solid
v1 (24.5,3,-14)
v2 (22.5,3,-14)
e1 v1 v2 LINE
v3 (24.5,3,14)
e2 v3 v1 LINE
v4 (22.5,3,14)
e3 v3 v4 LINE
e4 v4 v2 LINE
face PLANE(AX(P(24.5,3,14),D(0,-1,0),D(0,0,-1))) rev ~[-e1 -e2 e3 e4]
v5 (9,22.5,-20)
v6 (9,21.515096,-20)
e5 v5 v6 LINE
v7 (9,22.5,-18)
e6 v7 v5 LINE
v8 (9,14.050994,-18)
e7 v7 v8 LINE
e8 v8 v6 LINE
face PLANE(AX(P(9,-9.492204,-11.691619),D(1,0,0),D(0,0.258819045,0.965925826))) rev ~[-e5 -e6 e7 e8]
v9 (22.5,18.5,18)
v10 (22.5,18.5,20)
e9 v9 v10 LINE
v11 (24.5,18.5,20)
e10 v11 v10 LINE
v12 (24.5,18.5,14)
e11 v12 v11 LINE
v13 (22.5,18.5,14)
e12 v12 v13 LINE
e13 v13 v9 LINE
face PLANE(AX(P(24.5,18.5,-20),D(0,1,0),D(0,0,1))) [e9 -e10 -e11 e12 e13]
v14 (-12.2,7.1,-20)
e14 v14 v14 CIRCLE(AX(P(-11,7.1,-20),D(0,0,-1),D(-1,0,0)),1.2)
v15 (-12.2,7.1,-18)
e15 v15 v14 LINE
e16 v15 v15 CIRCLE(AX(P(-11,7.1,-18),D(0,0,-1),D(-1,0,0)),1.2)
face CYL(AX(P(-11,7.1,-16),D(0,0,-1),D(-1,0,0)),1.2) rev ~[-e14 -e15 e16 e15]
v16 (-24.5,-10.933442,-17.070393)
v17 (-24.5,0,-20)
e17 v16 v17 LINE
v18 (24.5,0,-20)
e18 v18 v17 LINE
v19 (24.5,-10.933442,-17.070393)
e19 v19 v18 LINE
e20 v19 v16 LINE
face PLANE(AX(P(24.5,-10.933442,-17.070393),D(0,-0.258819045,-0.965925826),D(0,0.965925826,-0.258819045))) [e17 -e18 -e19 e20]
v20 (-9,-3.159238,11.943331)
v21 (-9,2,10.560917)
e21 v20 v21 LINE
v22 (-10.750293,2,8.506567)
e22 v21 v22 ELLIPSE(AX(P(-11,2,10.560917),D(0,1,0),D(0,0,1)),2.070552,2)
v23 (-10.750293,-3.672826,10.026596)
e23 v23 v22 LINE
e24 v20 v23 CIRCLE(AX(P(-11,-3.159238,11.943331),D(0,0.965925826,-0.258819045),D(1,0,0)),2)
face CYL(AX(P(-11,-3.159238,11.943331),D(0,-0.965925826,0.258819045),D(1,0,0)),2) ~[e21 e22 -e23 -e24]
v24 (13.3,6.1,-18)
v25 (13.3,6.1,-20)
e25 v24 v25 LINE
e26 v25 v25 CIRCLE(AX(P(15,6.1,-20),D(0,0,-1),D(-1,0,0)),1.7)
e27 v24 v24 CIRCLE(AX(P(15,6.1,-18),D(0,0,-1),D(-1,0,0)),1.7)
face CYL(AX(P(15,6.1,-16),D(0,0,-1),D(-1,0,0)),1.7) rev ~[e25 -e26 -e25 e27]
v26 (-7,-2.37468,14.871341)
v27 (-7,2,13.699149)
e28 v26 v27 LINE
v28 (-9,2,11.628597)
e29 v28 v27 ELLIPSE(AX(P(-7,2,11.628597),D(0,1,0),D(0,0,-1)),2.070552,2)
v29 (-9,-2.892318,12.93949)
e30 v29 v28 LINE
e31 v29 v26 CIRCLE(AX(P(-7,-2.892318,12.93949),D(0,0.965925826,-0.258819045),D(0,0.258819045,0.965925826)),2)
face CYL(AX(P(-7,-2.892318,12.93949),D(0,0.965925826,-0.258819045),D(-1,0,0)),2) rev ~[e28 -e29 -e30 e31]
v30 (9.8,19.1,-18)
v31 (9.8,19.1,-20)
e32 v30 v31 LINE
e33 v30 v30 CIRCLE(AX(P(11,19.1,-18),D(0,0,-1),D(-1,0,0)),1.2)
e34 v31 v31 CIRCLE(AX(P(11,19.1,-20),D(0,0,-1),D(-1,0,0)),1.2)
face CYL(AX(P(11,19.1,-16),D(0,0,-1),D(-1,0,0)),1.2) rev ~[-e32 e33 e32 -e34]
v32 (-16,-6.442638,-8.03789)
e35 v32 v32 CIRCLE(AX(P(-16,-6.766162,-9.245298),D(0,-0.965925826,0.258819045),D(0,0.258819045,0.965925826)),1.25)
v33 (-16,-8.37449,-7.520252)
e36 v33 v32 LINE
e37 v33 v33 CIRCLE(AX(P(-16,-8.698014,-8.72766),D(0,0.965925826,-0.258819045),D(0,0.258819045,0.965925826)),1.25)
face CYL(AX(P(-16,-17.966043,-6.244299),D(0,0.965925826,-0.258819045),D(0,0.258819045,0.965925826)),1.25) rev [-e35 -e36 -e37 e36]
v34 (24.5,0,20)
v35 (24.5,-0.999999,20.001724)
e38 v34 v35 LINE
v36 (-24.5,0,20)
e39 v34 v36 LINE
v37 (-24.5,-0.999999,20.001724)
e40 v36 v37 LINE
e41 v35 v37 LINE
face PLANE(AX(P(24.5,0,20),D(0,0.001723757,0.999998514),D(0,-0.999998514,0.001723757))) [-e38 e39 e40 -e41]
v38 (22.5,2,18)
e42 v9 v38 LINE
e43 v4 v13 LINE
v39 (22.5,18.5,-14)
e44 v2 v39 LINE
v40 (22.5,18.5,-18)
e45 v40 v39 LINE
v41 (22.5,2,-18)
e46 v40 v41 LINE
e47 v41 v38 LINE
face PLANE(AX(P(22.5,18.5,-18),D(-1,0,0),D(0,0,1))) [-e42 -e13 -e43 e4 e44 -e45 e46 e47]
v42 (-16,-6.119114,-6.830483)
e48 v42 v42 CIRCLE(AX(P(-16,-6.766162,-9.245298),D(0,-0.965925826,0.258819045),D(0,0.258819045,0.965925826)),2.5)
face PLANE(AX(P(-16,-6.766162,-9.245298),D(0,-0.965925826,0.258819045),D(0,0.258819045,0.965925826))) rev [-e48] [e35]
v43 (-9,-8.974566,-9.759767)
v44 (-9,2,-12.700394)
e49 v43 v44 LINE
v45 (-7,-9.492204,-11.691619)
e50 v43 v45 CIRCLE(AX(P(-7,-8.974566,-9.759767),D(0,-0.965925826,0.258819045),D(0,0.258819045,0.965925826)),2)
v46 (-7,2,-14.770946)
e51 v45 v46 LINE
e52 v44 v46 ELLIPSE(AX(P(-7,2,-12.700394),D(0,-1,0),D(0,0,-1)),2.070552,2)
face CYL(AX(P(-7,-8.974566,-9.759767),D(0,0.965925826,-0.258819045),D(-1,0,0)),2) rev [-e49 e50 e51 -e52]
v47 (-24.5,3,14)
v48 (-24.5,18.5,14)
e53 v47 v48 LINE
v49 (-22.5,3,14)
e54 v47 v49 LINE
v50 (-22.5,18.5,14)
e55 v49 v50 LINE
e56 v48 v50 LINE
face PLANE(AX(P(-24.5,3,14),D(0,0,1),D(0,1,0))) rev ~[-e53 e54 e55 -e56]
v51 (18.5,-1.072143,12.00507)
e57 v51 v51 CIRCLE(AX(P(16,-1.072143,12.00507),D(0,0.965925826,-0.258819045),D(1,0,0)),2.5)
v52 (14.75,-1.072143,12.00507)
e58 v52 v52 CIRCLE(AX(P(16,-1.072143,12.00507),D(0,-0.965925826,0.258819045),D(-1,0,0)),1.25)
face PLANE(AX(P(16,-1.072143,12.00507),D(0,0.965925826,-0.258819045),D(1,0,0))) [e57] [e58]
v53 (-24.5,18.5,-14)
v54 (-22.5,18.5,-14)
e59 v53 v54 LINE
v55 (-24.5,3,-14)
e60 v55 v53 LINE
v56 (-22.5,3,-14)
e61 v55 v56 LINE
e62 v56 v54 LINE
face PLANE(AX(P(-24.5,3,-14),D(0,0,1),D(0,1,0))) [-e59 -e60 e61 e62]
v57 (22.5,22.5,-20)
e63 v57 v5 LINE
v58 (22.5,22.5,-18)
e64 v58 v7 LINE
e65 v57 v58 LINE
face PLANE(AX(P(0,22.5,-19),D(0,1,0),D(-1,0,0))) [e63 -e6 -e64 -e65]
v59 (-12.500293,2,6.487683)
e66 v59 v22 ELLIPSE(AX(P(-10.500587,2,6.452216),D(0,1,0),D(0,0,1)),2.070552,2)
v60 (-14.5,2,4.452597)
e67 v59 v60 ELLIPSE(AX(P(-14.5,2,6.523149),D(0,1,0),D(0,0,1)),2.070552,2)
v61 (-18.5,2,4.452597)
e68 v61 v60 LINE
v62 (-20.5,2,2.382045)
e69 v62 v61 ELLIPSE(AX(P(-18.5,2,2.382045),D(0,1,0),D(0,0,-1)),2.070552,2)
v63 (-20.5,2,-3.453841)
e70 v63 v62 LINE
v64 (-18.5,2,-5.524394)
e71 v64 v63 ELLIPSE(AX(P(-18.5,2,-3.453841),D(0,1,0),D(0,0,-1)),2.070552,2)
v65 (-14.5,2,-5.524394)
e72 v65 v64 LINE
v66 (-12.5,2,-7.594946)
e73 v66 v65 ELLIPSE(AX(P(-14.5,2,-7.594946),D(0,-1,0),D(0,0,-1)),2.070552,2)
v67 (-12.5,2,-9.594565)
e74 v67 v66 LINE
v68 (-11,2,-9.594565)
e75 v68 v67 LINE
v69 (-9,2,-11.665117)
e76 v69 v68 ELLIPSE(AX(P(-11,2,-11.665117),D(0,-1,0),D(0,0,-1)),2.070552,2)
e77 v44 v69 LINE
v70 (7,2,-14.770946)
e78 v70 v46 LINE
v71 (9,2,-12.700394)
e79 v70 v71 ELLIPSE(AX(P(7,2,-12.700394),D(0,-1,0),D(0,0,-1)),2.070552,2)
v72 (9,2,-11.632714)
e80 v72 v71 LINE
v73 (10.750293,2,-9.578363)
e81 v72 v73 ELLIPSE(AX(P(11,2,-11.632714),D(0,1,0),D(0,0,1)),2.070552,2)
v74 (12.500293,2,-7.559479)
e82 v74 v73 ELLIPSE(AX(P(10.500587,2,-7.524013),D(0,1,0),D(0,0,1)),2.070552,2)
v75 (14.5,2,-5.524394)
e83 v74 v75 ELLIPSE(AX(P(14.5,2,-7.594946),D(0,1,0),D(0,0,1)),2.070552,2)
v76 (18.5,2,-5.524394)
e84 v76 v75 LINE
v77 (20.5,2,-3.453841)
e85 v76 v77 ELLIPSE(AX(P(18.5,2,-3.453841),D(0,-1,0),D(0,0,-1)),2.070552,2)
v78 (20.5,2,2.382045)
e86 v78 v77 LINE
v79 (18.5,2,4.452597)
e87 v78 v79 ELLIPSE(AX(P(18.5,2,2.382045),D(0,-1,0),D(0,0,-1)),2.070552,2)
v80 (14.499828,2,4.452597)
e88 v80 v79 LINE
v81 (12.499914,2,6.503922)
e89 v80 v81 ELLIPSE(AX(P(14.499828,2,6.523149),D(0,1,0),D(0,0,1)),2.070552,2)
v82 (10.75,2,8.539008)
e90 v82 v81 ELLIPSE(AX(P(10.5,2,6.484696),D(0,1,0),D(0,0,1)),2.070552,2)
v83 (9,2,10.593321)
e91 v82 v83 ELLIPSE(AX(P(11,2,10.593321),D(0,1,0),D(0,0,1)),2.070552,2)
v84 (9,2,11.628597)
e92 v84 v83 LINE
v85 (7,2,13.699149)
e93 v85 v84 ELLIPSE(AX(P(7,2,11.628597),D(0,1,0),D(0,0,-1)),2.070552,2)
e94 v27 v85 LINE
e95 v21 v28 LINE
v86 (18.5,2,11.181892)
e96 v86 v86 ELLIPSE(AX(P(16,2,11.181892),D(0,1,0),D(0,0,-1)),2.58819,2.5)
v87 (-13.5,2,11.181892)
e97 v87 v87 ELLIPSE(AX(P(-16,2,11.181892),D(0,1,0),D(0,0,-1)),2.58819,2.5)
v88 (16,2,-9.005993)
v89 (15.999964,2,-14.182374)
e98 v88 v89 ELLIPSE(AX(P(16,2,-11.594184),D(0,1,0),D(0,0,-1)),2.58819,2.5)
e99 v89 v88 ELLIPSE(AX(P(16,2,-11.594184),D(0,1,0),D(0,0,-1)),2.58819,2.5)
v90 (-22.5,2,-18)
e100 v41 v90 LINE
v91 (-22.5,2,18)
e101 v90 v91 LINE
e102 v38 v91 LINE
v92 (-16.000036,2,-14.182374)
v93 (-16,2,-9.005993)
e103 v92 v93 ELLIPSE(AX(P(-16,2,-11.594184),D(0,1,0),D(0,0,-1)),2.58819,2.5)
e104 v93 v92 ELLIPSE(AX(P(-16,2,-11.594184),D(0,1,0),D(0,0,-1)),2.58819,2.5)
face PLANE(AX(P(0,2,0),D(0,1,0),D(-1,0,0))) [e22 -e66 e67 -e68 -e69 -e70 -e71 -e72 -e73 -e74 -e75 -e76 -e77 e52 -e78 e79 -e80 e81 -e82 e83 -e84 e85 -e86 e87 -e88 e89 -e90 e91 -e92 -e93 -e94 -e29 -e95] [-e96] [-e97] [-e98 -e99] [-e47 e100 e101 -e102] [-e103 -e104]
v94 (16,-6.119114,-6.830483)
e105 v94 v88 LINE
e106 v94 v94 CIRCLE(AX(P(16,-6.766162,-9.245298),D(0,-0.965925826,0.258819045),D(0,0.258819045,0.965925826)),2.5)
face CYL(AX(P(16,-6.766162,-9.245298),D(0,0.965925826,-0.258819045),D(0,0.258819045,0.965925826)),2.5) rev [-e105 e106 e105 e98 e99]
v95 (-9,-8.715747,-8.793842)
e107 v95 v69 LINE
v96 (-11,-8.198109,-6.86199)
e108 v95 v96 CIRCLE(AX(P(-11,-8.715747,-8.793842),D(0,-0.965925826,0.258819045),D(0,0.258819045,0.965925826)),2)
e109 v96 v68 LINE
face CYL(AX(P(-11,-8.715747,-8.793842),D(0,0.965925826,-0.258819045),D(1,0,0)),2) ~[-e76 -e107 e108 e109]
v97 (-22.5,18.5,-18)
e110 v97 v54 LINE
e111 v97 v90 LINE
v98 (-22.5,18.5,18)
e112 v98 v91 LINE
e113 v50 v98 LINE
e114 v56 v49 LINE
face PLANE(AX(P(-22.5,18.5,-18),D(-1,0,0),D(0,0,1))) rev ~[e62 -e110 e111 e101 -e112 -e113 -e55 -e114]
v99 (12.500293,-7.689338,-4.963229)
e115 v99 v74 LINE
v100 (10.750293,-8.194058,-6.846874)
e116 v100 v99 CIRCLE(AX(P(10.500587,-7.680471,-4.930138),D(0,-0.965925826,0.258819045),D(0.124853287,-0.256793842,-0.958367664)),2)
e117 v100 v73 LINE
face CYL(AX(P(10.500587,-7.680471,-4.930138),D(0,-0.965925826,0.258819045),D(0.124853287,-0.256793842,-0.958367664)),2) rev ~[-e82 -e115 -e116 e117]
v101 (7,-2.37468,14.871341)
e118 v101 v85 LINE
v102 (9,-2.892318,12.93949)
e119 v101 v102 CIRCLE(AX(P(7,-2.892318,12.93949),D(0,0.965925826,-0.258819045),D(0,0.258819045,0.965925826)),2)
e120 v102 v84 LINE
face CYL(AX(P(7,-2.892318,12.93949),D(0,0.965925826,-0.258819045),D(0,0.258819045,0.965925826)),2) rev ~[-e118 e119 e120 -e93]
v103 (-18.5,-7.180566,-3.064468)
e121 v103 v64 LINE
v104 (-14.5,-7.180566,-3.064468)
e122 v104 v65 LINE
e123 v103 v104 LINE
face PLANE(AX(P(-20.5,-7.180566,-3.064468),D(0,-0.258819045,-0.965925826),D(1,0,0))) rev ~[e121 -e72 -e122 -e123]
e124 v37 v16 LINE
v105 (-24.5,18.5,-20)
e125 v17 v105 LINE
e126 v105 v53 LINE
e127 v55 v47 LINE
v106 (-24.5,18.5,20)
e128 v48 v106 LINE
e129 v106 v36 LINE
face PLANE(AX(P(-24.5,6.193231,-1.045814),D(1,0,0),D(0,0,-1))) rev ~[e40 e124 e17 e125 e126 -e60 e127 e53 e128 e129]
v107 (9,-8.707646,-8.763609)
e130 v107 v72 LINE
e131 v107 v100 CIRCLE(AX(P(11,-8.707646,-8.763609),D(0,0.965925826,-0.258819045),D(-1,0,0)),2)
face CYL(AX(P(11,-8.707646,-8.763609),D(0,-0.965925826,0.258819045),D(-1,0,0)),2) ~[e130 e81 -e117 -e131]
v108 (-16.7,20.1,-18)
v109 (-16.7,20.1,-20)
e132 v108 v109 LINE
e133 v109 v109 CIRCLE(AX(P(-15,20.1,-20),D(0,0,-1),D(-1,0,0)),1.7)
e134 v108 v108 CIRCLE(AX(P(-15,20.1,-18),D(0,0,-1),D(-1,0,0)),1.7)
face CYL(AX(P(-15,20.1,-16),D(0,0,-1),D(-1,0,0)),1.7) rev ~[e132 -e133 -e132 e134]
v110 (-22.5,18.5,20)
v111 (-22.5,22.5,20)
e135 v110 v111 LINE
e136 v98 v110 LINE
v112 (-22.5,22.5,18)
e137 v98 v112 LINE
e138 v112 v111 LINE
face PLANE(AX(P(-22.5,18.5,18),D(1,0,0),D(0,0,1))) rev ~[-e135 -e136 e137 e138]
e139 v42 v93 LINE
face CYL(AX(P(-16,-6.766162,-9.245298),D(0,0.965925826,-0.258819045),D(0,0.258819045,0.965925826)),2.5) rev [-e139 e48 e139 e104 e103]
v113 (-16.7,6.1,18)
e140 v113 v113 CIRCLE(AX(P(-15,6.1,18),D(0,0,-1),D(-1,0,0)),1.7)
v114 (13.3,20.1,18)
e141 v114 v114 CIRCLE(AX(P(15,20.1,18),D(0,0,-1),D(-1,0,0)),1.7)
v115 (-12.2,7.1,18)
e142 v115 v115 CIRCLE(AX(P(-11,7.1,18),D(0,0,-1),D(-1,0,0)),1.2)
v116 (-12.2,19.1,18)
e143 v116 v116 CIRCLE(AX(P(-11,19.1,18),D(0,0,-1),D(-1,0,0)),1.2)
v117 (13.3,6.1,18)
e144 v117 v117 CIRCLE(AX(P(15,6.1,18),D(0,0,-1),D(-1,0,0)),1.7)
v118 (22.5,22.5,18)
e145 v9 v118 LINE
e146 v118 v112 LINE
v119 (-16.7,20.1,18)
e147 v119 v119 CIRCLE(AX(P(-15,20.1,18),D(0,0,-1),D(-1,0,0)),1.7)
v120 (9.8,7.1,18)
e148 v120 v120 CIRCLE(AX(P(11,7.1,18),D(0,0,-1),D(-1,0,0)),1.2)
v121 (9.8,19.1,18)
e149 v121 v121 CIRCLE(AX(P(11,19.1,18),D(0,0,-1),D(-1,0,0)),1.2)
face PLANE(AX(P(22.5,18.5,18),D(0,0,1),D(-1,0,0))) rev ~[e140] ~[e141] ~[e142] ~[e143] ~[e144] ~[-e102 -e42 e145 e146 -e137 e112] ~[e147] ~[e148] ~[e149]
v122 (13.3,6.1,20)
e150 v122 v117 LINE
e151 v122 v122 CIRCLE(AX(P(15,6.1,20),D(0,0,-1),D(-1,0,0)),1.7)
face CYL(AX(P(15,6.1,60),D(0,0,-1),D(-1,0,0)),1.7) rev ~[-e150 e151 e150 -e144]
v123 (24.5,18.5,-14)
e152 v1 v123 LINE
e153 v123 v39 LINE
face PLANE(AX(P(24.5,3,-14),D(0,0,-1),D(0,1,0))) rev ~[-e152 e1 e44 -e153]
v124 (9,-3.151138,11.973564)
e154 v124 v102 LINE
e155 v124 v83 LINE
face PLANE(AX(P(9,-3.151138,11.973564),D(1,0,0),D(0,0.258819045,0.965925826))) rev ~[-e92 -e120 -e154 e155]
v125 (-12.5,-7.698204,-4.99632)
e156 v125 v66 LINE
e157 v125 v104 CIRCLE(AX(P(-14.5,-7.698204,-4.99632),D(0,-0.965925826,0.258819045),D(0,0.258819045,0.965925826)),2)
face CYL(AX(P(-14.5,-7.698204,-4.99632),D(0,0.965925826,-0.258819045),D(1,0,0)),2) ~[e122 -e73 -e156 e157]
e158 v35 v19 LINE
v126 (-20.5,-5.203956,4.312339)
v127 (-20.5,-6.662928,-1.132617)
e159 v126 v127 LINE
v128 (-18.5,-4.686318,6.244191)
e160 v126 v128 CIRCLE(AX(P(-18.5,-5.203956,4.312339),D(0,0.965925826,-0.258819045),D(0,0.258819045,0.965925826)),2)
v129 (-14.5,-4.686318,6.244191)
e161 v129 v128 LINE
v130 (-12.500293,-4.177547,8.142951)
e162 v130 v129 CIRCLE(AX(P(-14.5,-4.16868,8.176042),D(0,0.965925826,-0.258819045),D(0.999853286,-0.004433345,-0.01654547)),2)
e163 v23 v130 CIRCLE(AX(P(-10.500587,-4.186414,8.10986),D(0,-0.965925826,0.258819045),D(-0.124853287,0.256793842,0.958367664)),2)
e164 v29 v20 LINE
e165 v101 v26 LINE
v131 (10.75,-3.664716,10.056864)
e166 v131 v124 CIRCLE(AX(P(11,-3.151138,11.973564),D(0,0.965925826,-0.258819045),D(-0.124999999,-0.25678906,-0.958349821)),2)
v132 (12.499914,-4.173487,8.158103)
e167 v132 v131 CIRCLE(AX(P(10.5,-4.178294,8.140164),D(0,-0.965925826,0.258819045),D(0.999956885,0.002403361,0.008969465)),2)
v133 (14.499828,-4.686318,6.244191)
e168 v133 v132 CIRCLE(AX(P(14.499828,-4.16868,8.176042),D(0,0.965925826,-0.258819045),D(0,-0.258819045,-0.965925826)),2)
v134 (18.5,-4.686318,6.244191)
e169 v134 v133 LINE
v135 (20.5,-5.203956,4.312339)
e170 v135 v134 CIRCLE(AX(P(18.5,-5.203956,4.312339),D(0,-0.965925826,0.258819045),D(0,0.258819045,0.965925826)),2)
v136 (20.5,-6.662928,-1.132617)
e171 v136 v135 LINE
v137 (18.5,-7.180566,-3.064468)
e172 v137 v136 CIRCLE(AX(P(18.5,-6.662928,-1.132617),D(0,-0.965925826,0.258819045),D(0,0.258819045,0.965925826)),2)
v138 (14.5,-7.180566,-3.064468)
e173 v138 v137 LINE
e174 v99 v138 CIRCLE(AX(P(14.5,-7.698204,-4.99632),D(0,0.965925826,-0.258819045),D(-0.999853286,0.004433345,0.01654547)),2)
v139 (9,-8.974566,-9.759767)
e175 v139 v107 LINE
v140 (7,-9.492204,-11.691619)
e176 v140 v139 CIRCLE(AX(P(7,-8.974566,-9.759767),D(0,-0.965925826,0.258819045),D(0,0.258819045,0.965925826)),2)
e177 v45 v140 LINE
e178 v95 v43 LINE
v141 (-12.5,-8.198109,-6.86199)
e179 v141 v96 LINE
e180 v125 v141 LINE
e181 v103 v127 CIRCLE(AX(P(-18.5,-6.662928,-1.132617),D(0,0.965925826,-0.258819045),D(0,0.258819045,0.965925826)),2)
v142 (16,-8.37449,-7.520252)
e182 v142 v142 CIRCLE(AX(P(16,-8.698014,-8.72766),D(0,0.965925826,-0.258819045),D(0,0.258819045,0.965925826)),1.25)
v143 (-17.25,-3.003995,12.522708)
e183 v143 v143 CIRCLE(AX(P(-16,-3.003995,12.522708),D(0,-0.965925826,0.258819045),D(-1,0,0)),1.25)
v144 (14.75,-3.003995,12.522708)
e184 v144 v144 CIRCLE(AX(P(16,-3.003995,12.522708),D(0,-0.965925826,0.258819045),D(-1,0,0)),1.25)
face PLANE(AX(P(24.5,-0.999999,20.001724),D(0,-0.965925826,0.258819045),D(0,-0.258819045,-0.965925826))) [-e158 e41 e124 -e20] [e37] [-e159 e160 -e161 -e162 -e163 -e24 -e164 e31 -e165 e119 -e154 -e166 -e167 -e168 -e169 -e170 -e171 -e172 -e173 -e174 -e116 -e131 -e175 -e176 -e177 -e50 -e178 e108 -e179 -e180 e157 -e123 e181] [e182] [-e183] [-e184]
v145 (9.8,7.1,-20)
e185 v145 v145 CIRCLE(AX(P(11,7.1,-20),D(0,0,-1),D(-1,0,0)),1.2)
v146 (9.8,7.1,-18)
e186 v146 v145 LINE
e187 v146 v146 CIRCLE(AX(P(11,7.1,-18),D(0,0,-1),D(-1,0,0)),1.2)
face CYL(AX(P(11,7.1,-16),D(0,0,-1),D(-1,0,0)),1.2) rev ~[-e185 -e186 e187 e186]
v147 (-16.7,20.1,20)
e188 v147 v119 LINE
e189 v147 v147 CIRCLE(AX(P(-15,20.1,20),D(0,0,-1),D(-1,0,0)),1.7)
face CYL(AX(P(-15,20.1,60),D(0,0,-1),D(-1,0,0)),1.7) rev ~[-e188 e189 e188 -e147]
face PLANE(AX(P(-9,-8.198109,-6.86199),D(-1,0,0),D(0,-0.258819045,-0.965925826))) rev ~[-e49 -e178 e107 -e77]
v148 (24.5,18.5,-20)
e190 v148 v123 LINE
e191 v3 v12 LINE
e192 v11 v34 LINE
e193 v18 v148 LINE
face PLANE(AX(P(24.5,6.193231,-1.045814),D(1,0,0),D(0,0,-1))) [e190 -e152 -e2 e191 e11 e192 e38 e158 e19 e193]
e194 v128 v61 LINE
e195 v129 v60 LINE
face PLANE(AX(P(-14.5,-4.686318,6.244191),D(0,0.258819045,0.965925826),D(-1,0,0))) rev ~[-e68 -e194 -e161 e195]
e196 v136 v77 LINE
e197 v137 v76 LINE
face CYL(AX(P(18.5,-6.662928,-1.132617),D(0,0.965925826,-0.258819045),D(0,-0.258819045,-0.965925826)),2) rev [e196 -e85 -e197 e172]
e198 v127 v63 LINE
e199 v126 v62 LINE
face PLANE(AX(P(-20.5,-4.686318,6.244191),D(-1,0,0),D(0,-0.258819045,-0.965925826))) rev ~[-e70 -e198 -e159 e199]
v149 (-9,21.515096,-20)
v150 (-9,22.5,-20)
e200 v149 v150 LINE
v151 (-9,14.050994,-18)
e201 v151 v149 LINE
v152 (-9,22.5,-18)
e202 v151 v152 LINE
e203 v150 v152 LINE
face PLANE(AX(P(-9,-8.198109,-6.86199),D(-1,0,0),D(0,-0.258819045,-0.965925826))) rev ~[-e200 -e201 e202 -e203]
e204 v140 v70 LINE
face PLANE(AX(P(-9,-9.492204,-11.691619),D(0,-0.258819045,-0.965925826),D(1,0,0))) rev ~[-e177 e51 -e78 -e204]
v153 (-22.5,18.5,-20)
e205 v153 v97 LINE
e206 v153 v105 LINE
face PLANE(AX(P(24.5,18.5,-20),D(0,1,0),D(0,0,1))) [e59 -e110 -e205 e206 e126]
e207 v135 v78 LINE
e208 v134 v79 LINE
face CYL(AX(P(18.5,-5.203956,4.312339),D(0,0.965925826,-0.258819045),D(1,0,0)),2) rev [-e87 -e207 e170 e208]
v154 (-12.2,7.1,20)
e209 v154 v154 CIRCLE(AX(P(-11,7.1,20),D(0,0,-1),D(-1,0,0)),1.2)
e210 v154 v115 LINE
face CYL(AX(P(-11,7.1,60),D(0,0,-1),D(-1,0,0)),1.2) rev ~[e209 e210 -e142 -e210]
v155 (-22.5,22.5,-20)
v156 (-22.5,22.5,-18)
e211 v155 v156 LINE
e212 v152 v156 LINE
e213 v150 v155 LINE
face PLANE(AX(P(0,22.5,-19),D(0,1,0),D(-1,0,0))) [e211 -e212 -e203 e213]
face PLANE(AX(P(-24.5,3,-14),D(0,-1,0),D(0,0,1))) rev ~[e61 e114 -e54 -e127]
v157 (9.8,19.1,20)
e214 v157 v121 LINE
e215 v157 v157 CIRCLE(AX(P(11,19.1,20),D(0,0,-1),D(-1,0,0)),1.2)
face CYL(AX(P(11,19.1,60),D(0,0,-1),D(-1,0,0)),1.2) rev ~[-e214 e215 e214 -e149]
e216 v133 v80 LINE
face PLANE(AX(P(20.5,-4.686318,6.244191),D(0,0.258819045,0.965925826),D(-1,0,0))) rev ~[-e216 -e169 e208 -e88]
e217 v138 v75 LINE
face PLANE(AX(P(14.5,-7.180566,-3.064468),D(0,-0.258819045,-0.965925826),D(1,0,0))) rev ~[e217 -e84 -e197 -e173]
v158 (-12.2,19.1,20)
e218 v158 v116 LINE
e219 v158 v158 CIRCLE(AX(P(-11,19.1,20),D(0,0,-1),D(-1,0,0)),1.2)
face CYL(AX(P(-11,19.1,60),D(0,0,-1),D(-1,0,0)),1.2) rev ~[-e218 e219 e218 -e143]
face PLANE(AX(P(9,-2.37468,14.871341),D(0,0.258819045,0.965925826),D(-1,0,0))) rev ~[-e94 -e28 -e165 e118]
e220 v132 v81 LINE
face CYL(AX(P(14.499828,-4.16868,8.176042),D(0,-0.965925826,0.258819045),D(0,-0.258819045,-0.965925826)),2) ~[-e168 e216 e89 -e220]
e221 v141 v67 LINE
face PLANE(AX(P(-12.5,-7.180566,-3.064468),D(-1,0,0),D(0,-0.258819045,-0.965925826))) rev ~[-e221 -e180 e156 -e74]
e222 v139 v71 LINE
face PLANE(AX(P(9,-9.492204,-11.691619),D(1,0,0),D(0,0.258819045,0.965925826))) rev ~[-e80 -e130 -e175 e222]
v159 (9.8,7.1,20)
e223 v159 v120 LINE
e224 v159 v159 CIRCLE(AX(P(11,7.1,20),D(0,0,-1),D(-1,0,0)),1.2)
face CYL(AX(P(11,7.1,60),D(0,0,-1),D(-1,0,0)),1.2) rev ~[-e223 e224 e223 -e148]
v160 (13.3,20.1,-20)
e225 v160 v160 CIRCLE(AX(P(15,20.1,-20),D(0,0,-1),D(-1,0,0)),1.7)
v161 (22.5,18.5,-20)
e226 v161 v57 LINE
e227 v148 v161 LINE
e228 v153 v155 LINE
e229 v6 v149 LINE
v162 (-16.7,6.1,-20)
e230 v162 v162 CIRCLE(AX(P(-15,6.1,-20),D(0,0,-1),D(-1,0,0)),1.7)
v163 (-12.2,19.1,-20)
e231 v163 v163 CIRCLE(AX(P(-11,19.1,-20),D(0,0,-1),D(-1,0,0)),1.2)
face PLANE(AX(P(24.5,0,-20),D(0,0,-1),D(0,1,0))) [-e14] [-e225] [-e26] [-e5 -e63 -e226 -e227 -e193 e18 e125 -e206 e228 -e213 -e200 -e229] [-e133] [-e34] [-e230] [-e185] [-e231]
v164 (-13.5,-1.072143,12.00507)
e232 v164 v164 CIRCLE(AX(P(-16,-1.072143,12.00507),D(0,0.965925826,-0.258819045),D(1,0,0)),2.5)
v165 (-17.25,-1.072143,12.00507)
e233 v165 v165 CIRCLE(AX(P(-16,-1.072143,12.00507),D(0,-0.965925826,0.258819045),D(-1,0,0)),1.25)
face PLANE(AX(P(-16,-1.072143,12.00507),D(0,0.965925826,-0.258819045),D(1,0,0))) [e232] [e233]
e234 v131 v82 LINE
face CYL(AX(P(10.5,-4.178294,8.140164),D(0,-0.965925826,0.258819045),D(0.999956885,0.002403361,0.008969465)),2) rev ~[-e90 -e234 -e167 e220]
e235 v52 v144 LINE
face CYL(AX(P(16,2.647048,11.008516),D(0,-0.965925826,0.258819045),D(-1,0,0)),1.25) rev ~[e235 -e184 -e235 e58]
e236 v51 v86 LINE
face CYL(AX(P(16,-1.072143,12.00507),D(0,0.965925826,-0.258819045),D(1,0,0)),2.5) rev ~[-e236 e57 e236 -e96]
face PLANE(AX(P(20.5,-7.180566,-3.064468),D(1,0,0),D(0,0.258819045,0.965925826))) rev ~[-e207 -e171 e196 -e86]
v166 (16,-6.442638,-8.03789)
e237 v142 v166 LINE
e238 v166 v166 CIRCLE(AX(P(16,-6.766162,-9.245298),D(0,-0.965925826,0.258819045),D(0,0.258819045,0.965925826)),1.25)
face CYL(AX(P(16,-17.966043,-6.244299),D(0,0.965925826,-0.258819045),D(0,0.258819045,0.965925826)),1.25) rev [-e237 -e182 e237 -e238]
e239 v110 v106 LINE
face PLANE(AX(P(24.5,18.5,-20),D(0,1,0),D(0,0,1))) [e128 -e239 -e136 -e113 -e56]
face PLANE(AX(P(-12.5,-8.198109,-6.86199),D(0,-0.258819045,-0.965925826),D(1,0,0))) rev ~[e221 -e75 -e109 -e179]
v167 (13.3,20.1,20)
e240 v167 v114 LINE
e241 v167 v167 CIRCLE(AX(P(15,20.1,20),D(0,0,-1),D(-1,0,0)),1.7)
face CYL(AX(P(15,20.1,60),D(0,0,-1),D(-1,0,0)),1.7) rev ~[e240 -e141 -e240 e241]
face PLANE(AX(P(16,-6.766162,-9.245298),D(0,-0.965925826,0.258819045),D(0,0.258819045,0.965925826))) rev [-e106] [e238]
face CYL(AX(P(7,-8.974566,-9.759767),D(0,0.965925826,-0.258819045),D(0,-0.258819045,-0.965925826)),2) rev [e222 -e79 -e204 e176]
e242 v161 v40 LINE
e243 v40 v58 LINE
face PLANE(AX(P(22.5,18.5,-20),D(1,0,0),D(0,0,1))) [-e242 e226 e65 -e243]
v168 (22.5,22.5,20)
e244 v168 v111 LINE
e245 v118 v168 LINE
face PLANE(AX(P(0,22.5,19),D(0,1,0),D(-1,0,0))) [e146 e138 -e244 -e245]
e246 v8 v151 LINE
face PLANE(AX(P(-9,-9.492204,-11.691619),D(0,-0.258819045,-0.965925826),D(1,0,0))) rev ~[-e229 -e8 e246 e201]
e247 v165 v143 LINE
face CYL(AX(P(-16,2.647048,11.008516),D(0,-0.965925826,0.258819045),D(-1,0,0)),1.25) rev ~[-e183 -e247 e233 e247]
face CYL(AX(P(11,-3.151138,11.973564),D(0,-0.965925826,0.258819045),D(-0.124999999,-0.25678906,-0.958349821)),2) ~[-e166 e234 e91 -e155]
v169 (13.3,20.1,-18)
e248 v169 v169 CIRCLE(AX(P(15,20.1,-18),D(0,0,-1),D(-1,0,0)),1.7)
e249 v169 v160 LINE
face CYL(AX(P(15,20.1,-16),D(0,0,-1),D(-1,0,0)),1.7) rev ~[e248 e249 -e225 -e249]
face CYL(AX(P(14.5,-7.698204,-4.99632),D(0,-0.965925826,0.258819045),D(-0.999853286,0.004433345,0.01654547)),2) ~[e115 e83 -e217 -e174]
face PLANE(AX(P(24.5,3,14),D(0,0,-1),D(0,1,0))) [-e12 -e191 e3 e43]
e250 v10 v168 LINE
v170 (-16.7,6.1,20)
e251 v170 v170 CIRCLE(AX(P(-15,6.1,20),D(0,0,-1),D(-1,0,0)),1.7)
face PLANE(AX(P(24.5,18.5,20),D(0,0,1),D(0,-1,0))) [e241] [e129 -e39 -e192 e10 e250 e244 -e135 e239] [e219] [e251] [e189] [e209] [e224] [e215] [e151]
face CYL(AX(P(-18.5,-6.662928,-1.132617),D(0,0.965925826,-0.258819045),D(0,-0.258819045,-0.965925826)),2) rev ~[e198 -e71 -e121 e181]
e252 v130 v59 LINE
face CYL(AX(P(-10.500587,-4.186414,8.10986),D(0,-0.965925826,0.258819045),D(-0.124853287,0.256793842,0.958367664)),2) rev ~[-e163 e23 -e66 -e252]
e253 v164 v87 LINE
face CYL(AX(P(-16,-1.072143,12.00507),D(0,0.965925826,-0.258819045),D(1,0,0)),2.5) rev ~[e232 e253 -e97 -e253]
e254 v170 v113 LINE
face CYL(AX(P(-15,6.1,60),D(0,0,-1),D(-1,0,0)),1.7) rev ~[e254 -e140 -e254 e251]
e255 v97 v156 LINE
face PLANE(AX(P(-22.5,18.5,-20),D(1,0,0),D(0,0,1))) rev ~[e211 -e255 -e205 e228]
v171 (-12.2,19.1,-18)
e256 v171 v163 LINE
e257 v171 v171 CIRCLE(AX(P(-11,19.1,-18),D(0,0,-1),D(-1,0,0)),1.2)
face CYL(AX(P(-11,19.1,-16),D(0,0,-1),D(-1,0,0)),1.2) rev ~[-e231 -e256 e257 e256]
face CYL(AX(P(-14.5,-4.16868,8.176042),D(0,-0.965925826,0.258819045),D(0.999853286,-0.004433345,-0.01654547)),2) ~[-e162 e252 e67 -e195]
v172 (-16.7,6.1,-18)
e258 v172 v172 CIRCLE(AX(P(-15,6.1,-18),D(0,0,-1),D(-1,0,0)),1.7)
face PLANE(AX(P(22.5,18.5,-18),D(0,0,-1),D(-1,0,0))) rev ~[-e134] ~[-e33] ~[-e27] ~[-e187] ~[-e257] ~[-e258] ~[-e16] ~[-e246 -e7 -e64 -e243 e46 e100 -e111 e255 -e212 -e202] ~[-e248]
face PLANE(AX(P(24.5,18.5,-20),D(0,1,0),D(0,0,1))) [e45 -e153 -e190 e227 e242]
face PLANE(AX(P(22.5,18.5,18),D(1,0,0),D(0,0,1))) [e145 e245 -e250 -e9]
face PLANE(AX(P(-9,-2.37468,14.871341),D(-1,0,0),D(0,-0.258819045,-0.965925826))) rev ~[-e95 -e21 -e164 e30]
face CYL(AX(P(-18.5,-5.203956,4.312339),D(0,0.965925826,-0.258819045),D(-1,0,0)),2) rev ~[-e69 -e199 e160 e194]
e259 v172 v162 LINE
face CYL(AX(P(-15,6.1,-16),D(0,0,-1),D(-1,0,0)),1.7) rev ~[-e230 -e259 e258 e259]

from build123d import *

# Parameters (mm, degrees)
BOSS_EXTRUDE1_DEPTH                              = 49
SKETCH2_W                                        = 45
SKETCH2_H                                        = 2
BOSS_EXTRUDE2_DEPTH                              = 4
SKETCH3_W                                        = 45
SKETCH3_H                                        = 2
BOSS_EXTRUDE3_DEPTH                              = 4
SKETCH4_W                                        = 45
SKETCH4_H                                        = 36
CUT_EXTRUDE1_DEPTH                               = 16.5
CUT_EXTRUDE2_REACH                               = 51
SKETCH5_W                                        = 28
SKETCH5_H                                        = 15.499999955
SKETCH6_W                                        = 28
SKETCH6_H                                        = 15.499999989
CUT_EXTRUDE3_DEPTH                               = 50
CUT_EXTRUDE4_DEPTH                               = 34.052463428
CBORE_FOR_M2_HEX_HEAD_MACHINE_SCREW1_AT_COUNT    = 2
CBORE_FOR_M2_HEX_HEAD_MACHINE_SCREW1_AT_PITCH    = 32
CBORE_FOR_M2_HEX_HEAD_MACHINE_SCREW2_D           = 2.5
CBORE_FOR_M2_HEX_HEAD_MACHINE_SCREW2_DEPTH       = 15.445359267
CBORE_FOR_M2_HEX_HEAD_MACHINE_SCREW2_CBORE_D     = 5
CBORE_FOR_M2_HEX_HEAD_MACHINE_SCREW2_CBORE_DEPTH = 3.850389414
F_3_4_3_4_DIAMETER_HOLE1_D                       = 3.4
F_3_4_3_4_DIAMETER_HOLE1_DEPTH                   = 2
F_2_4_2_4_DIAMETER_HOLE1_D                       = 2.4
F_2_4_2_4_DIAMETER_HOLE1_DEPTH                   = 2
F_3_4_3_4_DIAMETER_HOLE2_D                       = 3.4
F_3_4_3_4_DIAMETER_HOLE2_DEPTH                   = 40
F_2_4_2_4_DIAMETER_HOLE2_D                       = 2.4
F_2_4_2_4_DIAMETER_HOLE2_DEPTH                   = 40
FILLET1_R                                        = 2


with BuildPart() as part:
    # Sketch1 → Boss-Extrude1 (new body)
    with BuildSketch(Plane(origin=(24.5, 0, 0), x_dir=(0, 0, -1), z_dir=(1, 0, 0))):
        Polygon((20, 18.5), (-20, 18.5), (-20, 0), (-20.001723757, -0.999998514), (17.070392977, -10.933442255), (20, 0), align=None)
    extrude(amount=-BOSS_EXTRUDE1_DEPTH)

    # Sketch2 → Boss-Extrude2 (add)
    with BuildSketch(Plane(origin=(0, 18.5, 0), x_dir=(-1, 0, 0), z_dir=(0, 1, 0))):
        with Locations((0, 19)):
            Rectangle(SKETCH2_W, SKETCH2_H)
    extrude(amount=BOSS_EXTRUDE2_DEPTH)

    # Sketch3 → Boss-Extrude3 (add)
    with BuildSketch(Plane(origin=(0, 18.5, 0), x_dir=(-1, 0, 0), z_dir=(0, 1, 0))):
        with Locations((0, -19)):
            Rectangle(SKETCH3_W, SKETCH3_H)
    extrude(amount=BOSS_EXTRUDE3_DEPTH)

    # Sketch4 → Cut-Extrude1 (cut)
    with BuildSketch(Plane(origin=(0, 18.5, 0), x_dir=(-1, 0, 0), z_dir=(0, 1, 0))):
        Rectangle(SKETCH4_W, SKETCH4_H)
    extrude(amount=-CUT_EXTRUDE1_DEPTH, mode=Mode.SUBTRACT)

    # Sketch5 → Cut-Extrude2 (cut, up to next)
    with BuildSketch(Plane(origin=(24.5, 0, 0), x_dir=(0, 0, -1), z_dir=(1, 0, 0)), mode=Mode.PRIVATE) as cut_extrude2_sk1:
        with Locations((0, 10.750000023)):
            Rectangle(SKETCH5_W, SKETCH5_H)
    cut_extrude2_tool1 = extrude(cut_extrude2_sk1.sketch, amount=-CUT_EXTRUDE2_REACH, mode=Mode.PRIVATE) & part.part
    add(cut_extrude2_tool1.solids().sort_by_distance((24.5, 10.75, 0))[0], mode=Mode.SUBTRACT)

    # Sketch6 → Cut-Extrude3 (cut, through all)
    with BuildSketch(Plane.ZY.offset(24.5)):
        with Locations((0, 10.750000006)):
            Rectangle(SKETCH6_W, SKETCH6_H)
    extrude(amount=-CUT_EXTRUDE3_DEPTH, mode=Mode.SUBTRACT)

    # Sketch7 → Cut-Extrude4 (cut, through all)
    with BuildSketch(Plane(origin=(0, -5.933442255, 1.589861061), x_dir=(1, 0, 0), z_dir=(0, -0.965925826, 0.258819045))):
        with BuildLine():
            Line((-9, -8.75), (-9, -13.75))
            Line((-9, -13.75), (9, -13.75))
            Line((9, -13.75), (9, -10.71870086))
            ThreePointArc((9, -10.71870086), (9.500097813, -9.395714303), (10.750293429, -8.73435043))
            ThreePointArc((10.750293429, -8.73435043), (11.989102808, -8.085784512), (12.500293429, -6.784258263))
            ThreePointArc((12.500293429, -6.784258263), (13.097950879, -5.392242266), (14.5, -4.818516526))
            Line((14.5, -4.818516526), (20.5, -4.818516526))
            Line((20.5, -4.818516526), (20.5, 4.818516526))
            Line((20.5, 4.818516526), (14.499827541, 4.818516526))
            ThreePointArc((14.499827541, 4.818516526), (13.092195397, 5.397752032), (12.499913771, 6.79994478))
            ThreePointArc((12.499913771, 6.79994478), (11.993841738, 8.11119891), (10.75, 8.765686517))
            ThreePointArc((10.75, 8.765686517), (9.5, 9.427124344), (9, 10.75))
            Line((9, 10.75), (9, 13.75))
            Line((9, 13.75), (-9, 13.75))
            Line((-9, 13.75), (-9, 10.71870086))
            ThreePointArc((-9, 10.71870086), (-9.500097813, 9.395714303), (-10.750293429, 8.73435043))
            ThreePointArc((-10.750293429, 8.73435043), (-11.989102808, 8.085784512), (-12.500293429, 6.784258263))
            ThreePointArc((-12.500293429, 6.784258263), (-13.097950879, 5.392242266), (-14.5, 4.818516526))
            Line((-14.5, 4.818516526), (-20.5, 4.818516526))
            Line((-20.5, 4.818516526), (-20.5, -4.818516526))
            Line((-20.5, -4.818516526), (-12.5, -4.818516526))
            Line((-12.5, -4.818516526), (-12.5, -8.75))
            Line((-12.5, -8.75), (-9, -8.75))
        make_face()
    extrude(amount=-CUT_EXTRUDE4_DEPTH, mode=Mode.SUBTRACT)

    # Sketch8 → CBORE for M2 Hex Head Machine Screw1 (revolve, cut)
    with BuildSketch(Plane(origin=(-16, 2.647047613, -11.767559682), x_dir=(0, 0.258819045, 0.965925826), z_dir=(1, 0, 0))):
        Polygon((0, 0), (0, 21.3402415), (1.25, 21.3402415), (1.25, 9.745271647), (2.5, 9.745271647), (2.5, 0), align=None)
    cbore_for_m2_hex_head_machine_screw1 = revolve(axis=Axis((-16, 8.78067661, -13.411060619), (0, -0.965925826, 0.258819045)), mode=Mode.SUBTRACT)

    # CBORE for M2 Hex Head Machine Screw1 at: CBORE for M2 Hex Head Machine Screw1 ×2
    with Locations(*[(i * CBORE_FOR_M2_HEX_HEAD_MACHINE_SCREW1_AT_PITCH, 0, 0) for i in range(1, CBORE_FOR_M2_HEX_HEAD_MACHINE_SCREW1_AT_COUNT)]):
        add(cbore_for_m2_hex_head_machine_screw1, mode=Mode.SUBTRACT)

    # CBORE for M2 Hex Head Machine Screw2
    with Locations(Plane(origin=(0, -0.282400026, 0.075668859), x_dir=(1, 0, 0), z_dir=(0, 0.965925826, -0.258819045))):
        with Locations((-16, -11.318516526), (16, -11.318516526)):
            CounterBoreHole(CBORE_FOR_M2_HEX_HEAD_MACHINE_SCREW2_D / 2, CBORE_FOR_M2_HEX_HEAD_MACHINE_SCREW2_CBORE_D / 2, CBORE_FOR_M2_HEX_HEAD_MACHINE_SCREW2_CBORE_DEPTH, depth=CBORE_FOR_M2_HEX_HEAD_MACHINE_SCREW2_DEPTH)

    # Ø3.4 (3.4) Diameter Hole1
    with Locations(Plane.XY.offset(-18)):
        with Locations((15, 6.1), (-15, 6.1), (15, 20.1), (-15, 20.1)):
            Hole(F_3_4_3_4_DIAMETER_HOLE1_D / 2, depth=F_3_4_3_4_DIAMETER_HOLE1_DEPTH)

    # Ø2.4 (2.4) Diameter Hole1
    with Locations(Plane.XY.offset(-18)):
        with Locations((-11, 19.1), (-11, 7.1), (11, 19.1), (11, 7.1)):
            Hole(F_2_4_2_4_DIAMETER_HOLE1_D / 2, depth=F_2_4_2_4_DIAMETER_HOLE1_DEPTH)

    # Ø3.4 (3.4) Diameter Hole2
    with Locations(Plane.XY.offset(20)):
        with Locations((15, 6.1), (-15, 6.1), (15, 20.1), (-15, 20.1)):
            Hole(F_3_4_3_4_DIAMETER_HOLE2_D / 2, depth=F_3_4_3_4_DIAMETER_HOLE2_DEPTH)

    # Ø2.4 (2.4) Diameter Hole2
    with Locations(Plane.XY.offset(20)):
        with Locations((-11, 19.1), (-11, 7.1), (11, 19.1), (11, 7.1)):
            Hole(F_2_4_2_4_DIAMETER_HOLE2_D / 2, depth=F_2_4_2_4_DIAMETER_HOLE2_DEPTH)

    # Fillet1
    fillet1_edges = [part.edges().sort_by_distance(p)[0] for p in [
        (-9, -3.09905445, -8.228277441),
        (-12.5, -2.590283051, -4.294431133),
        (-20.5, -2.590283051, -4.294431133),
        (-20.5, -1.343159204, 5.348393808),
        (-9, -0.187340192, 14.285245134),
        (9, -0.187340192, 14.285245134),
        (20.5, -1.343159204, 5.348393808),
        (20.5, -2.590283051, -4.294431133),
        (9, -3.746102063, -13.231282458),
        (-9, -3.746102063, -13.231282458),
    ]]
    fillet(fillet1_edges, radius=FILLET1_R)


solid = part.part
